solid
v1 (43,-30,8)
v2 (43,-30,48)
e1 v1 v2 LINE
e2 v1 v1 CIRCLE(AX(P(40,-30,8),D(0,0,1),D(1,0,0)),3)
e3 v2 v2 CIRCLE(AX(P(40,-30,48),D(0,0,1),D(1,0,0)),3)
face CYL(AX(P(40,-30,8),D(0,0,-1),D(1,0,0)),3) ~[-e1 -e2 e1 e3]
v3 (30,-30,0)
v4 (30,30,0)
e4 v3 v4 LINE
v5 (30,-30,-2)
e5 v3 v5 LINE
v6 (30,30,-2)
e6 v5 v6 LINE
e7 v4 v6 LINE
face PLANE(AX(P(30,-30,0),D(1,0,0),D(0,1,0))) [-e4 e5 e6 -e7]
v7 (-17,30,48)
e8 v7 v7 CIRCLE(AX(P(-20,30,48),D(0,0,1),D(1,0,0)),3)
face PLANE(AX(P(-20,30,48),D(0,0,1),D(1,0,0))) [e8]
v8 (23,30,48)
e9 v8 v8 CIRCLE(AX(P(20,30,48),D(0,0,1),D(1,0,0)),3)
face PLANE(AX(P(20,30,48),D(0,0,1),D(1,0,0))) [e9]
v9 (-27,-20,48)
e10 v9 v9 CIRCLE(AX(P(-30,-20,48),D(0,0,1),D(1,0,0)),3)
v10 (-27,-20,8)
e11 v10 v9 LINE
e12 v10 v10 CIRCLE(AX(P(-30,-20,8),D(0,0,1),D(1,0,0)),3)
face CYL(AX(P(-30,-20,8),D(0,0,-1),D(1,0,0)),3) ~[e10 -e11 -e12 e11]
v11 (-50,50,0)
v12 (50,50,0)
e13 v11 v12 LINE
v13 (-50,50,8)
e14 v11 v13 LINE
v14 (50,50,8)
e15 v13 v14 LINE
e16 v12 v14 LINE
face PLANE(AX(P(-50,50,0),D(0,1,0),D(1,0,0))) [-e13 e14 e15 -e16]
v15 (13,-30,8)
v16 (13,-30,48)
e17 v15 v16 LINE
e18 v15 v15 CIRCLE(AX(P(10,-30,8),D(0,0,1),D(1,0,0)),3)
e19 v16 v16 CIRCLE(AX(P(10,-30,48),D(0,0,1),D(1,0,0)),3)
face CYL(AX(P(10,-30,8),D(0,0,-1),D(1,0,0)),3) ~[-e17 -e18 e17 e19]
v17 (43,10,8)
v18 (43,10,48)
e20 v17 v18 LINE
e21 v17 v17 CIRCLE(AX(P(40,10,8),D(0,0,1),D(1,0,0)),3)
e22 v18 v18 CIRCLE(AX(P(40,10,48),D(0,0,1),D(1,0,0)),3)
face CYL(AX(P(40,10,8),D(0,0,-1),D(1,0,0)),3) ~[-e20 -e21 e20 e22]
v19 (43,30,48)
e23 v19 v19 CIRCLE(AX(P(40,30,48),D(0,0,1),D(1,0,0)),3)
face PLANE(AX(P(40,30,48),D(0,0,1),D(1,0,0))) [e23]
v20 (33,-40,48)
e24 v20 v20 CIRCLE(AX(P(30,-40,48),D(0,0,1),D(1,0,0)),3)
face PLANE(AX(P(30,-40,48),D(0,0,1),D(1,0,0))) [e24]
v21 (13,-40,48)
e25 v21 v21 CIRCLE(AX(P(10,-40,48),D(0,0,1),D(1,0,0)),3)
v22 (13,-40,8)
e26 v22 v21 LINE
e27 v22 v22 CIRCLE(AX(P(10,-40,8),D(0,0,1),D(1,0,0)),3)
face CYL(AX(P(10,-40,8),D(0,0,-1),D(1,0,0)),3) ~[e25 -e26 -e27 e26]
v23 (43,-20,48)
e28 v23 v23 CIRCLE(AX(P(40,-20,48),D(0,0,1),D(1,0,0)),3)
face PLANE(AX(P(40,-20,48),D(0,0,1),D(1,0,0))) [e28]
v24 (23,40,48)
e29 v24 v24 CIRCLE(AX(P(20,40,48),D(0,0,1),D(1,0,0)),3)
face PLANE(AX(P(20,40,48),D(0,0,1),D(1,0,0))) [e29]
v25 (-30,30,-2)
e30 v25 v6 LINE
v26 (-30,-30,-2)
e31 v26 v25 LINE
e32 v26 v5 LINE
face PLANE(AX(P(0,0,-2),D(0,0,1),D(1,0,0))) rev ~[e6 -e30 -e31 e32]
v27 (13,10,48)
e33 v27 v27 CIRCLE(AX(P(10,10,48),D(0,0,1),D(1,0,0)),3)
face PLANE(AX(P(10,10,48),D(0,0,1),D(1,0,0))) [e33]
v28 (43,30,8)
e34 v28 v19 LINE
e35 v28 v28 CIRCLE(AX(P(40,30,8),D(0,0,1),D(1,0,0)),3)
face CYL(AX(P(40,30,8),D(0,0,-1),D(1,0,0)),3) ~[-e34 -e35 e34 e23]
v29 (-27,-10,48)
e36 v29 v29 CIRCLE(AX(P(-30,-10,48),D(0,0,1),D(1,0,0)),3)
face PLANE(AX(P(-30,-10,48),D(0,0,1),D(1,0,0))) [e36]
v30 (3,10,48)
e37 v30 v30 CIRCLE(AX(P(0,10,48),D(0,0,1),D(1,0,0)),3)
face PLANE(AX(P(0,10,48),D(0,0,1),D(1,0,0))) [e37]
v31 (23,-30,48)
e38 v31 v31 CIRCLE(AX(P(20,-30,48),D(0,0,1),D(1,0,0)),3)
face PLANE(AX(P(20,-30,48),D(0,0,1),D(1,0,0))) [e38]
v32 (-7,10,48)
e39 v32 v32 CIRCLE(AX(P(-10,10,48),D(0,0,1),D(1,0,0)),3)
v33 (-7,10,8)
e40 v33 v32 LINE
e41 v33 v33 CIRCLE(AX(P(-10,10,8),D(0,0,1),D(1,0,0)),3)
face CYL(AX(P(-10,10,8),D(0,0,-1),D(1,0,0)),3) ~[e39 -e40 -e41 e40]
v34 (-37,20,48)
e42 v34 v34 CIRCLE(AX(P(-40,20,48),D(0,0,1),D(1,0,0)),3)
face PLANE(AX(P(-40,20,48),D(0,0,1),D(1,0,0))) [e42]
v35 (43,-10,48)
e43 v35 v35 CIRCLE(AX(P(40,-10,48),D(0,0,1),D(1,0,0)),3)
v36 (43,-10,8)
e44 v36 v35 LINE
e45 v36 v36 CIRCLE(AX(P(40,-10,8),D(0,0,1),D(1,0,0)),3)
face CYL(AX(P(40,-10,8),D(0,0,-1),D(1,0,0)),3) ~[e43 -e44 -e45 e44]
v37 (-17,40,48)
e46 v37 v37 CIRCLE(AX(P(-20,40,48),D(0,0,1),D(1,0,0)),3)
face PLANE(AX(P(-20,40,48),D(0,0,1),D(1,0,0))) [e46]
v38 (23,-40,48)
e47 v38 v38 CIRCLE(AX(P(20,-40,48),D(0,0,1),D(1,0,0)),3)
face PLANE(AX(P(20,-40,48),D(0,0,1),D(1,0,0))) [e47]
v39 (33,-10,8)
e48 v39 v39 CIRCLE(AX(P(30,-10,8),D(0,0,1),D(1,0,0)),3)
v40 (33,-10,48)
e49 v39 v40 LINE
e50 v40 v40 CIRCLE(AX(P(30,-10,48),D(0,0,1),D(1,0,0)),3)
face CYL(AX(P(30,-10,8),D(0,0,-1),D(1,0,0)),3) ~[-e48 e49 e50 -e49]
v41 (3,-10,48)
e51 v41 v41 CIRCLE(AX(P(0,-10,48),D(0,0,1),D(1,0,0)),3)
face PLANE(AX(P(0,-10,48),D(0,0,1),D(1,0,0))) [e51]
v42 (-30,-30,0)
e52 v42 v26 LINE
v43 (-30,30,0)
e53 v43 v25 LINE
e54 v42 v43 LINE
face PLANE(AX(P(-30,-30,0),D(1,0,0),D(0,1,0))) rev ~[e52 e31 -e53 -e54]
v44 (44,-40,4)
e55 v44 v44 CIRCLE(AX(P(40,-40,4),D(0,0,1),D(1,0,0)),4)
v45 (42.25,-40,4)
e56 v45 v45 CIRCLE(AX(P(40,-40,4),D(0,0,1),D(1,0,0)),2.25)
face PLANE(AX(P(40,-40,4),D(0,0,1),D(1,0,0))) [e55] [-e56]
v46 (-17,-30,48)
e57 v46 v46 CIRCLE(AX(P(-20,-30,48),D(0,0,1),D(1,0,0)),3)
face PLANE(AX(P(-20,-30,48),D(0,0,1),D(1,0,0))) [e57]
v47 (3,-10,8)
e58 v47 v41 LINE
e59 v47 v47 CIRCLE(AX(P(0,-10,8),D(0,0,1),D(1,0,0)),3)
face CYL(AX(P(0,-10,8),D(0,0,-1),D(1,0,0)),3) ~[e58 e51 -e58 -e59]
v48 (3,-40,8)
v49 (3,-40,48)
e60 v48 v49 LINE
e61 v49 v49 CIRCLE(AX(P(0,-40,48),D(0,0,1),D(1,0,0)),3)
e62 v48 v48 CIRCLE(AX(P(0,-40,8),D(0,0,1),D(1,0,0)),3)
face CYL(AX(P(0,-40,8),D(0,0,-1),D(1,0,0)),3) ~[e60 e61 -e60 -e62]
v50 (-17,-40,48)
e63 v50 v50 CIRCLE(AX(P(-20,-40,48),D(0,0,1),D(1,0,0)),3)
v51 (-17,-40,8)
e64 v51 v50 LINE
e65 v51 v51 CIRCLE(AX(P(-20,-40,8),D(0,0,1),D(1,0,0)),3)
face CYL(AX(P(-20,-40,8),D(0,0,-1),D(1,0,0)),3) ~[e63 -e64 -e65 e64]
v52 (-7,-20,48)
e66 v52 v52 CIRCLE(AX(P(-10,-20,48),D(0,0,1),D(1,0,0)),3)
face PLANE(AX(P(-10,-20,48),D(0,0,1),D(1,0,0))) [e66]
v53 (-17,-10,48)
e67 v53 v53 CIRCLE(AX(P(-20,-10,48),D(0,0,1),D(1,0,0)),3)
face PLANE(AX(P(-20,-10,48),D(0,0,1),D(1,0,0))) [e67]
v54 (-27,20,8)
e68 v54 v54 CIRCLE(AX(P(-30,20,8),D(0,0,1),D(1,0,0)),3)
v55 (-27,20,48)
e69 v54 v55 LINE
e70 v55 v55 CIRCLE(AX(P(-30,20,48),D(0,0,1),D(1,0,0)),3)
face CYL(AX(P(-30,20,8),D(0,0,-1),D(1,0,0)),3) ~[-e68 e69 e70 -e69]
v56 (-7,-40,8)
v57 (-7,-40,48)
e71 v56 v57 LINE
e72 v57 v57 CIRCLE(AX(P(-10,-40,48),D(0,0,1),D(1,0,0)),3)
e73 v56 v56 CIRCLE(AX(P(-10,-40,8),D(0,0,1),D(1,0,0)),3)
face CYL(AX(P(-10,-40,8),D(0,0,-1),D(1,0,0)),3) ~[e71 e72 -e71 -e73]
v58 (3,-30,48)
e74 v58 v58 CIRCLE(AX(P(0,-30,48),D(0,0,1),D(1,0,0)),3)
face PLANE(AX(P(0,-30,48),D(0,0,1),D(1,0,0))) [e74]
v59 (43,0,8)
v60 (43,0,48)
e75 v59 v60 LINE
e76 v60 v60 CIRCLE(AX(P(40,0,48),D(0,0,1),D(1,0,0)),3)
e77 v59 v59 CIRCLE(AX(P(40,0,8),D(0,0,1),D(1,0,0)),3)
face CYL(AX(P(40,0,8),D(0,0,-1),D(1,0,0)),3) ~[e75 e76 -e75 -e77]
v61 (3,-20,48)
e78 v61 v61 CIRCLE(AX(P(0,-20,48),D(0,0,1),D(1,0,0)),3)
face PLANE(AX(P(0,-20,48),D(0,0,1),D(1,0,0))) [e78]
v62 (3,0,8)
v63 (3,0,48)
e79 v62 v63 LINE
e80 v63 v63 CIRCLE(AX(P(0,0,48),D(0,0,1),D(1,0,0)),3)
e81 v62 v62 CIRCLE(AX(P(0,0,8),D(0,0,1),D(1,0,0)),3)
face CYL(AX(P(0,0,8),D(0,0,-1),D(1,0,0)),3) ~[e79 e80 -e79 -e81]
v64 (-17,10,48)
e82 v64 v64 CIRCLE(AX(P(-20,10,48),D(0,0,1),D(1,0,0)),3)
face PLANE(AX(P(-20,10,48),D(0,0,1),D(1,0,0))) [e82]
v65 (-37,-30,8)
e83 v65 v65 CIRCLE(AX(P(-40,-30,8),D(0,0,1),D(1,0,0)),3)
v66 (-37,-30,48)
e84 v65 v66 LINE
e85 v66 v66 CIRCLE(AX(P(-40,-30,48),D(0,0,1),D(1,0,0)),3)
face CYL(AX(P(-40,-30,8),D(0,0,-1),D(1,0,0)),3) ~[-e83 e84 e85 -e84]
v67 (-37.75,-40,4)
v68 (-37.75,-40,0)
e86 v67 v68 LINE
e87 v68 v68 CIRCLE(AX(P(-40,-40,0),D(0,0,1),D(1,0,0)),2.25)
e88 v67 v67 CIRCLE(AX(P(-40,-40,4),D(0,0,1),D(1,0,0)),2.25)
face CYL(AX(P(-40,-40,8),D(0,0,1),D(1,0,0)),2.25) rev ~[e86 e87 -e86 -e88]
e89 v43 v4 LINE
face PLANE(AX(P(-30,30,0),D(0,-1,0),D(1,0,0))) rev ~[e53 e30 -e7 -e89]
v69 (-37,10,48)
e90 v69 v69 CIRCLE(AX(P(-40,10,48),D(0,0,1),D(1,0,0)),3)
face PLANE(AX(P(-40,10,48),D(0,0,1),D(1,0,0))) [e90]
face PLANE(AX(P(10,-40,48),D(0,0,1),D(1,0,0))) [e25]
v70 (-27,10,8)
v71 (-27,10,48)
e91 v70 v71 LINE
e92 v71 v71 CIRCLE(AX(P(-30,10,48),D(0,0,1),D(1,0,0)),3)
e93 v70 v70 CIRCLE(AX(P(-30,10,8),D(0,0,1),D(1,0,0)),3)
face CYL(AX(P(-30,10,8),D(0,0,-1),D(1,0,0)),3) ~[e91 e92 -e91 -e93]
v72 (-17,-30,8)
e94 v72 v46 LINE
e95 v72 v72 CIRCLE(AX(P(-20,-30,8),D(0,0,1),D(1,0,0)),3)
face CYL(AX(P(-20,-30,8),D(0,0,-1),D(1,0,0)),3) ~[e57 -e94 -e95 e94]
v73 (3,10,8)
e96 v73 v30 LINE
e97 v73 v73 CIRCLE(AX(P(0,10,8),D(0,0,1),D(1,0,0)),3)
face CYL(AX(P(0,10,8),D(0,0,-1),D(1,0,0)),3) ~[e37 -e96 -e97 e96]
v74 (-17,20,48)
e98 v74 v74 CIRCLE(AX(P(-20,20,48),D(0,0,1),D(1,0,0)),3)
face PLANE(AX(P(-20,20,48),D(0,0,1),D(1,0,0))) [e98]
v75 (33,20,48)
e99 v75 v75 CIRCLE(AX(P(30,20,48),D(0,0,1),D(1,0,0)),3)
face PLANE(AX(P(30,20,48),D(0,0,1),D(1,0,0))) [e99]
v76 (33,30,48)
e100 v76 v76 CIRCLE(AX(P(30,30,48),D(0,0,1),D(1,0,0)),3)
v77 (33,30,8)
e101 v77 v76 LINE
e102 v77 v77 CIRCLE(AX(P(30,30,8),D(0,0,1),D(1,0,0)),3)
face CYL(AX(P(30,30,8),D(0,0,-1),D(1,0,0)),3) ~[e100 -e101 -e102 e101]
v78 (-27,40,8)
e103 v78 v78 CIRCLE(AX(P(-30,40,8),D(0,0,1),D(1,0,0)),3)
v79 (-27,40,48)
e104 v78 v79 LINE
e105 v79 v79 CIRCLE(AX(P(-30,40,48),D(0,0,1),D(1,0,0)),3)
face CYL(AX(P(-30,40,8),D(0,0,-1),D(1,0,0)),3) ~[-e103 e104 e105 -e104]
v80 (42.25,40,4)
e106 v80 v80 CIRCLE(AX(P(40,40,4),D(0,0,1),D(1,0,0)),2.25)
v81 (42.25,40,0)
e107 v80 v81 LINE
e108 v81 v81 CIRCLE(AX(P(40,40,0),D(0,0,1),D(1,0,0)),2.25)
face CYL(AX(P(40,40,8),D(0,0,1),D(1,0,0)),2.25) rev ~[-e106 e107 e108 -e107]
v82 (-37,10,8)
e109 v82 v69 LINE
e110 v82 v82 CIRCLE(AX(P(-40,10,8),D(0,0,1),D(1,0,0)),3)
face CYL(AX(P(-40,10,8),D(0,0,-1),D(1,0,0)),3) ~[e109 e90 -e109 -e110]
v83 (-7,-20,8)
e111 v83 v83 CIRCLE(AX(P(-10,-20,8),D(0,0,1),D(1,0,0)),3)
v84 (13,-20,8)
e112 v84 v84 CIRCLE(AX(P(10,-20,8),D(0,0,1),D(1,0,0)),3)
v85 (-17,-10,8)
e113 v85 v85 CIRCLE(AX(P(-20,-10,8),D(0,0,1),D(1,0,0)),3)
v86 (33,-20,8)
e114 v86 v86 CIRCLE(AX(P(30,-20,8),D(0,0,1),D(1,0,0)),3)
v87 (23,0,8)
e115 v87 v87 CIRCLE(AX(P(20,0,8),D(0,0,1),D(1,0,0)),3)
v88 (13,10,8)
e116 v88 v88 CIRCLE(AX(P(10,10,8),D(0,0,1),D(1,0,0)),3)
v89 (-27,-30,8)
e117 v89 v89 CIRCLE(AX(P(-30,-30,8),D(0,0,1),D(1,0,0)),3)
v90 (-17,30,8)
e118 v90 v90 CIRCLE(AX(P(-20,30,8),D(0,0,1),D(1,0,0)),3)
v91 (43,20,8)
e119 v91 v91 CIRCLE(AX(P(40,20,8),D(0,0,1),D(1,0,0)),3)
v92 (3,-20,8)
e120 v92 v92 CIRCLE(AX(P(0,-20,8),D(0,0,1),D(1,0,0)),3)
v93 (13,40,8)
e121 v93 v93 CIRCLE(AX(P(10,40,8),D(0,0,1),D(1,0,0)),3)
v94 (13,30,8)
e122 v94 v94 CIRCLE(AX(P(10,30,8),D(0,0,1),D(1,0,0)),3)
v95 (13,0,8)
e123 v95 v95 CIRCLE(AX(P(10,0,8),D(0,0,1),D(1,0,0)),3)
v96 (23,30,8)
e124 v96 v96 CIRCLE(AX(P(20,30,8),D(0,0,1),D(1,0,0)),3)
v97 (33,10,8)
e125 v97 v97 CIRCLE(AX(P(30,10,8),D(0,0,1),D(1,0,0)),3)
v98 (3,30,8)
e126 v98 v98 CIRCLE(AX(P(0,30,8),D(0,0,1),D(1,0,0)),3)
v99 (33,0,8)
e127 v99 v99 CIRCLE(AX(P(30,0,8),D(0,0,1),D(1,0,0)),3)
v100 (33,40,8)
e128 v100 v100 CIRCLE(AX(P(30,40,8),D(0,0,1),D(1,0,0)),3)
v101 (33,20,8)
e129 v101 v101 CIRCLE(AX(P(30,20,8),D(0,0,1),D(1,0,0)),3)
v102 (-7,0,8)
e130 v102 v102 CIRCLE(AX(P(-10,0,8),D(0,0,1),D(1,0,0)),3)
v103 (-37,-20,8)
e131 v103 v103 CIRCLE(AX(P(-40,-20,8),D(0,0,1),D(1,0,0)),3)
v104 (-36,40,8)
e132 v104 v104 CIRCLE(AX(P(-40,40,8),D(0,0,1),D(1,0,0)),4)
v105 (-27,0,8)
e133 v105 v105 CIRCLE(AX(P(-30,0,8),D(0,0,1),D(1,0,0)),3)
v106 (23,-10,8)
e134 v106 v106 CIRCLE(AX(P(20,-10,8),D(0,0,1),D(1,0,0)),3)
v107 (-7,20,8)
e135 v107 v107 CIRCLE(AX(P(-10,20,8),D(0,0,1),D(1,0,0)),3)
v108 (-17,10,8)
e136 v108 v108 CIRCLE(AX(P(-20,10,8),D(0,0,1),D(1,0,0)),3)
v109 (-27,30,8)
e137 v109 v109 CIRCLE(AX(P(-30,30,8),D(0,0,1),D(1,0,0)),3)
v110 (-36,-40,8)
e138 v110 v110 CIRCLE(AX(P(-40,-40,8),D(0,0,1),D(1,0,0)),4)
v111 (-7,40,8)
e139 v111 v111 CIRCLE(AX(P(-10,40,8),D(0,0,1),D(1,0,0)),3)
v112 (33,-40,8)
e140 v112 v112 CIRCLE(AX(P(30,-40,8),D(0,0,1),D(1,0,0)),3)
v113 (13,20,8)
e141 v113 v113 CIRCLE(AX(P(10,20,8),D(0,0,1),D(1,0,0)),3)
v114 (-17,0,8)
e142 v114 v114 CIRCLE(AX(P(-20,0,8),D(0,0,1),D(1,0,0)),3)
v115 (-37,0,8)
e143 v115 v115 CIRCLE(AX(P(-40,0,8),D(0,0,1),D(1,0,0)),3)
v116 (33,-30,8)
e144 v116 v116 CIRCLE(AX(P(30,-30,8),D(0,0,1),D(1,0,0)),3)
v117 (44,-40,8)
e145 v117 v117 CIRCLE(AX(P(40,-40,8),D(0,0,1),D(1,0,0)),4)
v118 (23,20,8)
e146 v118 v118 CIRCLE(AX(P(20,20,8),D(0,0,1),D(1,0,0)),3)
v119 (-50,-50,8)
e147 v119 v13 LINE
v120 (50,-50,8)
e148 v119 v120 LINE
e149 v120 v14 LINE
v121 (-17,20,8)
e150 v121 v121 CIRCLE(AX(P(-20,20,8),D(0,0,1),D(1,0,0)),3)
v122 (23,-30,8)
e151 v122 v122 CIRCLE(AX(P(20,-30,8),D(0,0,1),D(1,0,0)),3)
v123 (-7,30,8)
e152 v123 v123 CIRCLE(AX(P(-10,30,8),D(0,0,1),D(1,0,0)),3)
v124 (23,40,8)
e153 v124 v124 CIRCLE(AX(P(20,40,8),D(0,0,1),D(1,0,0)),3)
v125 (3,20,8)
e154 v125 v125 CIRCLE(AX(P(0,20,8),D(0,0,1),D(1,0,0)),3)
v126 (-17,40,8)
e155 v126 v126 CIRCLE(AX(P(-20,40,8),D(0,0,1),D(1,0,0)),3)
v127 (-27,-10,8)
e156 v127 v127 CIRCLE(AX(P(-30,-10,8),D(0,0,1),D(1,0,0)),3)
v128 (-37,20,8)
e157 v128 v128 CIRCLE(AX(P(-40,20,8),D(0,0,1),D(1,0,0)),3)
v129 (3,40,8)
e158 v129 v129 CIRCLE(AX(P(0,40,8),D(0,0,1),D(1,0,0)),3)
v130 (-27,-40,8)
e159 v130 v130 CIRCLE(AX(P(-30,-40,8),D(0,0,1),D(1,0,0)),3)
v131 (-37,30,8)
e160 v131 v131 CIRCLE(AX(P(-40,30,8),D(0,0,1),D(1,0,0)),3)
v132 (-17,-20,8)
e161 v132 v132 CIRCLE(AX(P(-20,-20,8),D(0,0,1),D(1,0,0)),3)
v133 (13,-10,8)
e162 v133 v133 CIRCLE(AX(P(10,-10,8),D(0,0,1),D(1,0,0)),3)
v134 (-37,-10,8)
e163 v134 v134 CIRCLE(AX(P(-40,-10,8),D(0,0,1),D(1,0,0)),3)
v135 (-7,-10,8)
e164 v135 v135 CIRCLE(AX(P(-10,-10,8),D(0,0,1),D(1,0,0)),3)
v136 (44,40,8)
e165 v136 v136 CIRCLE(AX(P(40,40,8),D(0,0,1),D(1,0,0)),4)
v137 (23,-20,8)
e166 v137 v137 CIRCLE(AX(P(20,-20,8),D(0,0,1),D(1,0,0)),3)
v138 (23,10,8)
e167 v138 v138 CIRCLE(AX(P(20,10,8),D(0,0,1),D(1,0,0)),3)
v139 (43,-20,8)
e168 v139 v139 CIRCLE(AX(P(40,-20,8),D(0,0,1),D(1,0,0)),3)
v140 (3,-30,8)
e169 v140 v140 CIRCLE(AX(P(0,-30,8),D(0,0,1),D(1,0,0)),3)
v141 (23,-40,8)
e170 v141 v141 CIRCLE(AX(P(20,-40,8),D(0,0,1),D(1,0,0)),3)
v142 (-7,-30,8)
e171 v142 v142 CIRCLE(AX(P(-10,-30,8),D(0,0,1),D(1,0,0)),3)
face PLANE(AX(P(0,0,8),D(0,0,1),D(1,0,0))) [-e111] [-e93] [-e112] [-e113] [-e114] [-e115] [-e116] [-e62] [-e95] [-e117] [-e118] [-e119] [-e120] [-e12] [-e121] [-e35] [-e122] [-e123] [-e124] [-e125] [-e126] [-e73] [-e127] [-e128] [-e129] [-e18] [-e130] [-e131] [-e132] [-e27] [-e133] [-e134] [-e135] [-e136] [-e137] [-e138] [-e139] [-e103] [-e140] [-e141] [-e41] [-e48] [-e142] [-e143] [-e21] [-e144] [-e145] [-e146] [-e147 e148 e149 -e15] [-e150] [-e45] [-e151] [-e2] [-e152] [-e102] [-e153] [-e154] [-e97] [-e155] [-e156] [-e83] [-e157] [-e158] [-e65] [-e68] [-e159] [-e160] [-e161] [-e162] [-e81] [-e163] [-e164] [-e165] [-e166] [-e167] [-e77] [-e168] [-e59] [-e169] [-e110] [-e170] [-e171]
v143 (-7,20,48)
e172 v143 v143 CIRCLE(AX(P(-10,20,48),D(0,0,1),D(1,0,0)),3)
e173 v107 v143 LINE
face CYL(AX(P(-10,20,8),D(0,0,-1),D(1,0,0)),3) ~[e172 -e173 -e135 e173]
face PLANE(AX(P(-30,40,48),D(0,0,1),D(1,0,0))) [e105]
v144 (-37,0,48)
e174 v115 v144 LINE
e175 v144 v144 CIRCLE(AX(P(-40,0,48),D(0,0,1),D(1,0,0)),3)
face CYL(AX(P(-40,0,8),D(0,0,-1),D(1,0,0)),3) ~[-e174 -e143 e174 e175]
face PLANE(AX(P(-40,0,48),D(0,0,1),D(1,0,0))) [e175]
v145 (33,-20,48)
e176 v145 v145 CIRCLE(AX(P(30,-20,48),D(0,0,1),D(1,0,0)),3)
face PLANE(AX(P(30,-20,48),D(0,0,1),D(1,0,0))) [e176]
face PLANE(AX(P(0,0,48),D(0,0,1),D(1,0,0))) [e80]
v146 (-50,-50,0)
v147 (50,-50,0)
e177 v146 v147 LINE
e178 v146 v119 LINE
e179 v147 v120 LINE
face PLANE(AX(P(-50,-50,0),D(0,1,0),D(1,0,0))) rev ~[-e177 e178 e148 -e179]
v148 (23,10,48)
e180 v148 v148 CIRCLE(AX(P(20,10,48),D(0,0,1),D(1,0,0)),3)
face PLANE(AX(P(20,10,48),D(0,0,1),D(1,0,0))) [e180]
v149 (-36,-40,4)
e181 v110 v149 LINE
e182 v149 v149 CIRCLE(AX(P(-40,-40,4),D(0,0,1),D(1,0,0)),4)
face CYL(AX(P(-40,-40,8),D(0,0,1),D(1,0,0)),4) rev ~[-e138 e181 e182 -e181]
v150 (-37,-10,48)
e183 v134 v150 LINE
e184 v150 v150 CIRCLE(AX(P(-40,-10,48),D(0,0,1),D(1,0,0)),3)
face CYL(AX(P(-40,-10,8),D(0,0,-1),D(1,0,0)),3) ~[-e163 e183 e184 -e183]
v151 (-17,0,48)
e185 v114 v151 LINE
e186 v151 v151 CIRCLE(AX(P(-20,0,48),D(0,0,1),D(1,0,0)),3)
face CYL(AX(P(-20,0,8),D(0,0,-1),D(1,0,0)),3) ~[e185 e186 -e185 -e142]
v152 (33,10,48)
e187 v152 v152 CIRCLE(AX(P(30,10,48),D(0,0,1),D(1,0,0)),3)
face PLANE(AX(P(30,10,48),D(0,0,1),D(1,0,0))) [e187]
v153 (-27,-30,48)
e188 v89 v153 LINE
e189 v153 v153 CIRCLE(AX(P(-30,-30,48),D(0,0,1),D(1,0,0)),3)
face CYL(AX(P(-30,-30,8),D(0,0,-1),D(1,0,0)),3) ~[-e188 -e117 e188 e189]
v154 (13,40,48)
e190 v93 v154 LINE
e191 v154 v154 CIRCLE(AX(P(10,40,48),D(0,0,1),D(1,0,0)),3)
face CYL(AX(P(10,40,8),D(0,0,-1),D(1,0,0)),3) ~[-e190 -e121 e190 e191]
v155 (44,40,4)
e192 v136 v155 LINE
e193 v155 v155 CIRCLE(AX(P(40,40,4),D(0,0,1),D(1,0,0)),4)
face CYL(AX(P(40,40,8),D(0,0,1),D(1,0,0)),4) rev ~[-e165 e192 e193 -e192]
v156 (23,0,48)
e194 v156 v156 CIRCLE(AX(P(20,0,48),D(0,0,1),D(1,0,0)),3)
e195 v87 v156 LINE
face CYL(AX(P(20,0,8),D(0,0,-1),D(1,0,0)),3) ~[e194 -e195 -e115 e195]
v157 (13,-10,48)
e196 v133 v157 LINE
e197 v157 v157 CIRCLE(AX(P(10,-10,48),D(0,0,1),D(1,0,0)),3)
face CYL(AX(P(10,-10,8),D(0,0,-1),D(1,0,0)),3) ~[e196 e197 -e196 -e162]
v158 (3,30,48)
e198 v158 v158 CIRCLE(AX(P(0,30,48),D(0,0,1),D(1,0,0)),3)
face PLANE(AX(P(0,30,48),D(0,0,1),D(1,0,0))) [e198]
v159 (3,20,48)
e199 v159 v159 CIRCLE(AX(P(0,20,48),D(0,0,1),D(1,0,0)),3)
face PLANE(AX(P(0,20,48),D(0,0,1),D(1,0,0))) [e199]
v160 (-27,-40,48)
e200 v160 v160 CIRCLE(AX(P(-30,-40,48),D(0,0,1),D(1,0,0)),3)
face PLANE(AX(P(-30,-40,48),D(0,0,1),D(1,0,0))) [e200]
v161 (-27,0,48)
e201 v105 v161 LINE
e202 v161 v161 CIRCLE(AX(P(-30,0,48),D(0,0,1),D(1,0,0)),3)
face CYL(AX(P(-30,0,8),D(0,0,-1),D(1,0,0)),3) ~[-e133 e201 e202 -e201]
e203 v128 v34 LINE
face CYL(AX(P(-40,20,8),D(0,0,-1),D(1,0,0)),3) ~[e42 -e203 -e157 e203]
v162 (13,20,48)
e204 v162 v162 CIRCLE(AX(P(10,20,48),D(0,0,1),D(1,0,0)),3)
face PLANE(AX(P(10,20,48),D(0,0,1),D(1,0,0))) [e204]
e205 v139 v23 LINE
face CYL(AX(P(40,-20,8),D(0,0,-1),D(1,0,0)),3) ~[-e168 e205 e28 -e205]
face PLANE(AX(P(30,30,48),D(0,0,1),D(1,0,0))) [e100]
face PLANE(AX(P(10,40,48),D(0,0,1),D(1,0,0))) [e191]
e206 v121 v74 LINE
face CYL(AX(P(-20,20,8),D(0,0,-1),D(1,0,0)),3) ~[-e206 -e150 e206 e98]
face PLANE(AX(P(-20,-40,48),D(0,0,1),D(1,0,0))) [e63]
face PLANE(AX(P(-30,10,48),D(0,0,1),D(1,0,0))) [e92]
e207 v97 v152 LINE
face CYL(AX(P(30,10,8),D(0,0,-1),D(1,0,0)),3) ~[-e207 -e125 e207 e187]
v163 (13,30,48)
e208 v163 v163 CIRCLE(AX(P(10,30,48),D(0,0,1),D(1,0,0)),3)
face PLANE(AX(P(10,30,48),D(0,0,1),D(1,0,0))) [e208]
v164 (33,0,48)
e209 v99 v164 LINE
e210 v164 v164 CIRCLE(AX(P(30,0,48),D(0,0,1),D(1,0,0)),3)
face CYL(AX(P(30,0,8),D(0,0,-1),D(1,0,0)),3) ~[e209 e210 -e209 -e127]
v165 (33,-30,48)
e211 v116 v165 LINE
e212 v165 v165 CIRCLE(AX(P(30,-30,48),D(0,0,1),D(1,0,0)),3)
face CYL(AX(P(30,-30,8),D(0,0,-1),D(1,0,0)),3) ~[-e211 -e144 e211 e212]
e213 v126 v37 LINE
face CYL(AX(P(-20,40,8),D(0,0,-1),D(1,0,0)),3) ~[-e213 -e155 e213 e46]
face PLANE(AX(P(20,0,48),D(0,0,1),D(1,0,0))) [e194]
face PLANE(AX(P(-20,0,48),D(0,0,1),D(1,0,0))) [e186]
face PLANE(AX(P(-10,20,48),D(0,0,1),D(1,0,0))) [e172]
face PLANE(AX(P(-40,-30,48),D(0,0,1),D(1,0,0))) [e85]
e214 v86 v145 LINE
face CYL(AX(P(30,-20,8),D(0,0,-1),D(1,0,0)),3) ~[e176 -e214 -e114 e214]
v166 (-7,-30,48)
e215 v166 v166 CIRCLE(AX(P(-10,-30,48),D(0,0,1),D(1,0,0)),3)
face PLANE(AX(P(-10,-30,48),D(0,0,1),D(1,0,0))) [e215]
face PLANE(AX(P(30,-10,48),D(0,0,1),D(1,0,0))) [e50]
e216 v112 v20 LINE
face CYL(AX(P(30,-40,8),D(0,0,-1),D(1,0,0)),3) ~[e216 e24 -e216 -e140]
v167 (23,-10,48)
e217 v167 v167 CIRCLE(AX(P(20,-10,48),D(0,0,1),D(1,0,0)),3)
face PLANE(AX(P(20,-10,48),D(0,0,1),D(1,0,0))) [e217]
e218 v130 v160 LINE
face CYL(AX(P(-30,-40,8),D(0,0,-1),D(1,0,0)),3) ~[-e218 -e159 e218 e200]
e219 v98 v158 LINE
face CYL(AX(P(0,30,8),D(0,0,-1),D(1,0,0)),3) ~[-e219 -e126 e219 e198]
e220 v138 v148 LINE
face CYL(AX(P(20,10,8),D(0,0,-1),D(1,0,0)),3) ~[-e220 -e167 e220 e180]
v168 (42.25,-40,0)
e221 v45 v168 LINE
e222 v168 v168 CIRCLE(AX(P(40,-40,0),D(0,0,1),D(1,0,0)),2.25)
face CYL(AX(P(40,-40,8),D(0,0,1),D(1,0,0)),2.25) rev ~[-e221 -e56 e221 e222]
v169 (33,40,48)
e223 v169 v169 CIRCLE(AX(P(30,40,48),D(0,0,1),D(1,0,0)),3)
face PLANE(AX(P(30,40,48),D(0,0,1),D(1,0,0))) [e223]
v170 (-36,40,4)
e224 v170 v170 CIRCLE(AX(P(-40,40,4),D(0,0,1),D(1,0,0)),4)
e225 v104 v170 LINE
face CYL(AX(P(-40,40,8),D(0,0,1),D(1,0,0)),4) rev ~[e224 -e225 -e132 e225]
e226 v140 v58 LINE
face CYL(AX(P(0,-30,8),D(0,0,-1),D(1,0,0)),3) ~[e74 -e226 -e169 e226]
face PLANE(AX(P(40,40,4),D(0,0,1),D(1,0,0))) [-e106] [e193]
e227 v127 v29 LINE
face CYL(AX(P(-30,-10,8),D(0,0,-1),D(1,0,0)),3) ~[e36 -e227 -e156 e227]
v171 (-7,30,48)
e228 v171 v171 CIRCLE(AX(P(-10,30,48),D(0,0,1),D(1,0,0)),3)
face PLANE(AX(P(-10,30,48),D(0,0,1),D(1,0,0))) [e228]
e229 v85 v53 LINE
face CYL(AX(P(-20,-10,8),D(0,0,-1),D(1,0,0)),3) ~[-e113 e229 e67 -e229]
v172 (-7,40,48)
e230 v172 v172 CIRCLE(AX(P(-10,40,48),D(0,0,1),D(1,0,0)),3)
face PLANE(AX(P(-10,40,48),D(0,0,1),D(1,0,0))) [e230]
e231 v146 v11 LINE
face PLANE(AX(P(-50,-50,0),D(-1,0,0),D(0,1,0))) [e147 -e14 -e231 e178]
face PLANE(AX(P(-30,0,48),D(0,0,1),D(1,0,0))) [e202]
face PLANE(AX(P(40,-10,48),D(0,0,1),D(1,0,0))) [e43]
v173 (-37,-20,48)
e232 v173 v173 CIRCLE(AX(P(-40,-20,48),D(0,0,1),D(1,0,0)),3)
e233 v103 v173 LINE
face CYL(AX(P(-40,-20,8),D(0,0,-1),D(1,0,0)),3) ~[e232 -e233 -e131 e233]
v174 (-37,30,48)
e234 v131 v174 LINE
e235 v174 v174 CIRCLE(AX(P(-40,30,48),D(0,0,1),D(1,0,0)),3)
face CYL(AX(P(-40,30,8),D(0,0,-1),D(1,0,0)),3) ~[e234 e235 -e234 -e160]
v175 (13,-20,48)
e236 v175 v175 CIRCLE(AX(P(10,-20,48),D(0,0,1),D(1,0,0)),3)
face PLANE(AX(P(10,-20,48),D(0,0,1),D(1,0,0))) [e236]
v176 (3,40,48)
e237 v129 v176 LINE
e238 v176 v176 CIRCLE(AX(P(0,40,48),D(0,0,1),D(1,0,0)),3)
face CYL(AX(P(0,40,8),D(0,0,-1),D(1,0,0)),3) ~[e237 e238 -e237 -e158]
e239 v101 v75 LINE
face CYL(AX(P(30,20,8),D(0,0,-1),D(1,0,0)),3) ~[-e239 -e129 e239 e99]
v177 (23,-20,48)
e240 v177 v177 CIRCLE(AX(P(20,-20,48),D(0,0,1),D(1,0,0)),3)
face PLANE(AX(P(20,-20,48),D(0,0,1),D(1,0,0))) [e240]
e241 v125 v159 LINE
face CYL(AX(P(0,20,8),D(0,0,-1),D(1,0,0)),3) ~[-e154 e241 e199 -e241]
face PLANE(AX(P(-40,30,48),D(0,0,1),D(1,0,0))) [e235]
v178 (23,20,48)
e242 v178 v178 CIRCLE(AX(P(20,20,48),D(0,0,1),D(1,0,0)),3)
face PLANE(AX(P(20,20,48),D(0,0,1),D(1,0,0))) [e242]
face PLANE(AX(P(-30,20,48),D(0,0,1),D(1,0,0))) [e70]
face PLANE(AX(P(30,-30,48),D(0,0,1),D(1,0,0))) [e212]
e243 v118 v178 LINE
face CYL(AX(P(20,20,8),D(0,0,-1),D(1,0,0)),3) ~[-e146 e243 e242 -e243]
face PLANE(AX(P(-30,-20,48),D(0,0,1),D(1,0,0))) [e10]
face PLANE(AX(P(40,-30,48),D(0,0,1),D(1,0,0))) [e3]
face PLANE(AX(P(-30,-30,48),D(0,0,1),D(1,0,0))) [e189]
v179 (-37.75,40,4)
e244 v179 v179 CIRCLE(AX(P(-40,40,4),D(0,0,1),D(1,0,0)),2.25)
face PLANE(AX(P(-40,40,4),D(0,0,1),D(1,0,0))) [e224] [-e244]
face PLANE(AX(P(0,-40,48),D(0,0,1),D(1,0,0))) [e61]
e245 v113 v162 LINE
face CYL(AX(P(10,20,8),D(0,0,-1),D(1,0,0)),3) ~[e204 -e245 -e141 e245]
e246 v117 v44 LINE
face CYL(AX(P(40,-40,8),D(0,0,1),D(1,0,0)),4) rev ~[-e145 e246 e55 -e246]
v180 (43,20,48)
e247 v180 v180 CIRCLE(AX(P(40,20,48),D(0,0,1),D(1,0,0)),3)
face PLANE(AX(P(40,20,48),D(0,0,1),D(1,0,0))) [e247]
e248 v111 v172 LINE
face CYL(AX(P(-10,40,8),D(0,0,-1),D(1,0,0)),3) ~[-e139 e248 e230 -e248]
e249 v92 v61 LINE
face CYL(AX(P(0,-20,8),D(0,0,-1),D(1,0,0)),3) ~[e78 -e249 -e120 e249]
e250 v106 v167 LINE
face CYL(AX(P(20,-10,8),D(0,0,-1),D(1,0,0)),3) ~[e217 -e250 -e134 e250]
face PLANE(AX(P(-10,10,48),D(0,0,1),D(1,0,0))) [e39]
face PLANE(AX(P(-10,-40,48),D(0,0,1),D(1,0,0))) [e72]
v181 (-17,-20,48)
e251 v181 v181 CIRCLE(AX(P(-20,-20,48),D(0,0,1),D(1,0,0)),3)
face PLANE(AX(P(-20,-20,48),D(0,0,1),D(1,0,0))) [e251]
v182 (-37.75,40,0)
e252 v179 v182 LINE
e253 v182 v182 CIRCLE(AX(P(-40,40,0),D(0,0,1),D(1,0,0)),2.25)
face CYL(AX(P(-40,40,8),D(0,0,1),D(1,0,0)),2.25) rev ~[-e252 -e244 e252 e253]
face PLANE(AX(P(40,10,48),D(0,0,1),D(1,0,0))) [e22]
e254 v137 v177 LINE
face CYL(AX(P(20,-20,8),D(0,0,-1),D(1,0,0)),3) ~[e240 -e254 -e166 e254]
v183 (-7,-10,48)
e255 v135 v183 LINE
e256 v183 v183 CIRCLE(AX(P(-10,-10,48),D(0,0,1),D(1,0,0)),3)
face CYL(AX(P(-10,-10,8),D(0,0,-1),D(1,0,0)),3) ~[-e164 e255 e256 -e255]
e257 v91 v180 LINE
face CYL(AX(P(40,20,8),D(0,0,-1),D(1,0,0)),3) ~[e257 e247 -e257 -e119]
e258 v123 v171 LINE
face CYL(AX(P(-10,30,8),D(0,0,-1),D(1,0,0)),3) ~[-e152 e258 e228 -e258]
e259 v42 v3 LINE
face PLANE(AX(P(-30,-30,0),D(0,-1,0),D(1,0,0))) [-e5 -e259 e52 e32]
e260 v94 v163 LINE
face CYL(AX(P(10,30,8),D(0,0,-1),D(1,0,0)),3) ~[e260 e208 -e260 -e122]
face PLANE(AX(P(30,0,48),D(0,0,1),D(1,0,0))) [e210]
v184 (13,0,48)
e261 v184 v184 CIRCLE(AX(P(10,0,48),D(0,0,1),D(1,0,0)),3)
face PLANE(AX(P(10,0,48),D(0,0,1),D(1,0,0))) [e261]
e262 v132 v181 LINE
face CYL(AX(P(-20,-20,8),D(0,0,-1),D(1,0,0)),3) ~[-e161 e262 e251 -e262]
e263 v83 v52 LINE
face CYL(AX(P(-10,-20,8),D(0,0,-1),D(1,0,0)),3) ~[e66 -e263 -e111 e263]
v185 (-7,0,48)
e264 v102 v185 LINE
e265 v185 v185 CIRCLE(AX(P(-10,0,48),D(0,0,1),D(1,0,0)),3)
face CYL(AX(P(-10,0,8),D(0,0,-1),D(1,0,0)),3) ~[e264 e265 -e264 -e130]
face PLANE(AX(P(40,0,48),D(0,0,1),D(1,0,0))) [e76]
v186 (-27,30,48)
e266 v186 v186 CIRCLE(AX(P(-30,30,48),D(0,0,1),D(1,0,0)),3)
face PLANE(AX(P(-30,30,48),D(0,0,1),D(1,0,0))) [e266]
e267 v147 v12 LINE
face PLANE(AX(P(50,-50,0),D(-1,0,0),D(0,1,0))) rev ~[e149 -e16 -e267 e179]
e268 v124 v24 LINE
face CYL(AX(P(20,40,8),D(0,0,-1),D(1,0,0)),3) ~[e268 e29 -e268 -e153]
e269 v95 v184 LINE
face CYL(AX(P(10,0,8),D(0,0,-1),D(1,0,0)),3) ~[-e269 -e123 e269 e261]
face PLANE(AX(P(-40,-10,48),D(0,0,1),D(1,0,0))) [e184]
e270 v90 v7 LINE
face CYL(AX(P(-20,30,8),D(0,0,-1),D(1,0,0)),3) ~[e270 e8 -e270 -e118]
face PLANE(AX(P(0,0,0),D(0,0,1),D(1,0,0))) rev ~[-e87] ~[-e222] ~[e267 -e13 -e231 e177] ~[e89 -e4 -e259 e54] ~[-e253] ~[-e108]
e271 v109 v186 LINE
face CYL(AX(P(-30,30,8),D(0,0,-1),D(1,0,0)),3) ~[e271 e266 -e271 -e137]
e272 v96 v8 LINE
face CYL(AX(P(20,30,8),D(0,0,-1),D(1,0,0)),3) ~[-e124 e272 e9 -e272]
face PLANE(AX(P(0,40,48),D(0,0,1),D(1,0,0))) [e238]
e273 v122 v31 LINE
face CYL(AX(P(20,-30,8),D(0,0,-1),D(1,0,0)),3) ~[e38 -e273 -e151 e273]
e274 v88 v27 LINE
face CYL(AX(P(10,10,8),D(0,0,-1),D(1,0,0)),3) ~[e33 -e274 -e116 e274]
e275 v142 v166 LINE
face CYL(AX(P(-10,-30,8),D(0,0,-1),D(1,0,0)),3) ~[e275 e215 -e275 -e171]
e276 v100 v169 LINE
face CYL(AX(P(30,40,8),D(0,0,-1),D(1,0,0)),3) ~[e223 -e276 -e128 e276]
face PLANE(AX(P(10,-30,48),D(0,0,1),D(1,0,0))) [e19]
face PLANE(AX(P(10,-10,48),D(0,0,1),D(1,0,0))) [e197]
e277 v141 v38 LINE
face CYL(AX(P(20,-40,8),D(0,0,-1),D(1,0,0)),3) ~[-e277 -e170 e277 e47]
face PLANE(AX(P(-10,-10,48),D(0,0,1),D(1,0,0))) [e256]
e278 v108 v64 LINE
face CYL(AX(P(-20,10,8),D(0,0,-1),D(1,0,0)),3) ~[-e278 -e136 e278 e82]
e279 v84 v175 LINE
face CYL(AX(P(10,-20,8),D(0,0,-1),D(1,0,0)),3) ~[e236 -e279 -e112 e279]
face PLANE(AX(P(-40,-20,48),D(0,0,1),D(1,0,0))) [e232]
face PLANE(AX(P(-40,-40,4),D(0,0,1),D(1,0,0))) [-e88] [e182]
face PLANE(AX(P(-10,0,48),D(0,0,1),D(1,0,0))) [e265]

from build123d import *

# Parameters (mm, degrees)
SKETCH_1_W          = 100
SKETCH_1_H          = 100
EXTRUDE_1_DEPTH     = 8
SKETCH_2_W          = 60
SKETCH_2_H          = 60
EXTRUDE_2_DEPTH     = 2
SKETCH_3_R          = 3
EXTRUDE_3_DEPTH     = 40
SKETCH_4_R          = 4
CUT_EXTRUDE_1_DEPTH = 4
SKETCH_5_R          = 2.25
CUT_EXTRUDE_2_DEPTH = 82.240384046


with BuildPart() as part:
    # 草图1 → 凸台-拉伸1 (new body)
    with BuildSketch(Plane.XY):
        Rectangle(SKETCH_1_W, SKETCH_1_H)
    extrude(amount=EXTRUDE_1_DEPTH)

    # 草图2 → 凸台-拉伸2 (add)
    with BuildSketch(Plane.XY):
        Rectangle(SKETCH_2_W, SKETCH_2_H)
    extrude(amount=-EXTRUDE_2_DEPTH)

    # 草图3 → 凸台-拉伸3 (add)
    with BuildSketch(Plane.XY.offset(8)):
        with Locations((-40, -30)):
            Circle(SKETCH_3_R)
        with Locations((-40, -20)):
            Circle(SKETCH_3_R)
        with Locations((-40, -10)):
            Circle(SKETCH_3_R)
        with Locations((-40, 0)):
            Circle(SKETCH_3_R)
        with Locations((-40, 10)):
            Circle(SKETCH_3_R)
        with Locations((-40, 20)):
            Circle(SKETCH_3_R)
        with Locations((-40, 30)):
            Circle(SKETCH_3_R)
        with Locations((-30, -40)):
            Circle(SKETCH_3_R)
        with Locations((-30, -30)):
            Circle(SKETCH_3_R)
        with Locations((-30, -20)):
            Circle(SKETCH_3_R)
        with Locations((-30, -10)):
            Circle(SKETCH_3_R)
        with Locations((-30, 0)):
            Circle(SKETCH_3_R)
        with Locations((-30, 10)):
            Circle(SKETCH_3_R)
        with Locations((-30, 20)):
            Circle(SKETCH_3_R)
        with Locations((-30, 30)):
            Circle(SKETCH_3_R)
        with Locations((-30, 40)):
            Circle(SKETCH_3_R)
        with Locations((-20, -40)):
            Circle(SKETCH_3_R)
        with Locations((-20, -30)):
            Circle(SKETCH_3_R)
        with Locations((-20, -20)):
            Circle(SKETCH_3_R)
        with Locations((-20, -10)):
            Circle(SKETCH_3_R)
        with Locations((-20, 0)):
            Circle(SKETCH_3_R)
        with Locations((-20, 10)):
            Circle(SKETCH_3_R)
        with Locations((-20, 20)):
            Circle(SKETCH_3_R)
        with Locations((-20, 30)):
            Circle(SKETCH_3_R)
        with Locations((-20, 40)):
            Circle(SKETCH_3_R)
        with Locations((-10, -40)):
            Circle(SKETCH_3_R)
        with Locations((-10, -30)):
            Circle(SKETCH_3_R)
        with Locations((-10, -20)):
            Circle(SKETCH_3_R)
        with Locations((-10, -10)):
            Circle(SKETCH_3_R)
        with Locations((-10, 0)):
            Circle(SKETCH_3_R)
        with Locations((-10, 10)):
            Circle(SKETCH_3_R)
        with Locations((-10, 20)):
            Circle(SKETCH_3_R)
        with Locations((-10, 30)):
            Circle(SKETCH_3_R)
        with Locations((-10, 40)):
            Circle(SKETCH_3_R)
        with Locations((0, -40)):
            Circle(SKETCH_3_R)
        with Locations((0, -30)):
            Circle(SKETCH_3_R)
        with Locations((0, -20)):
            Circle(SKETCH_3_R)
        with Locations((0, -10)):
            Circle(SKETCH_3_R)
        Circle(SKETCH_3_R)
        with Locations((0, 10)):
            Circle(SKETCH_3_R)
        with Locations((0, 20)):
            Circle(SKETCH_3_R)
        with Locations((0, 30)):
            Circle(SKETCH_3_R)
        with Locations((0, 40)):
            Circle(SKETCH_3_R)
        with Locations((10, -40)):
            Circle(SKETCH_3_R)
        with Locations((10, -30)):
            Circle(SKETCH_3_R)
        with Locations((10, -20)):
            Circle(SKETCH_3_R)
        with Locations((10, -10)):
            Circle(SKETCH_3_R)
        with Locations((10, 0)):
            Circle(SKETCH_3_R)
        with Locations((10, 10)):
            Circle(SKETCH_3_R)
        with Locations((10, 20)):
            Circle(SKETCH_3_R)
        with Locations((10, 30)):
            Circle(SKETCH_3_R)
        with Locations((10, 40)):
            Circle(SKETCH_3_R)
        with Locations((20, -40)):
            Circle(SKETCH_3_R)
        with Locations((20, -30)):
            Circle(SKETCH_3_R)
        with Locations((20, -20)):
            Circle(SKETCH_3_R)
        with Locations((20, -10)):
            Circle(SKETCH_3_R)
        with Locations((20, 0)):
            Circle(SKETCH_3_R)
        with Locations((20, 10)):
            Circle(SKETCH_3_R)
        with Locations((20, 20)):
            Circle(SKETCH_3_R)
        with Locations((20, 30)):
            Circle(SKETCH_3_R)
        with Locations((20, 40)):
            Circle(SKETCH_3_R)
        with Locations((30, -40)):
            Circle(SKETCH_3_R)
        with Locations((30, -30)):
            Circle(SKETCH_3_R)
        with Locations((30, -20)):
            Circle(SKETCH_3_R)
        with Locations((30, -10)):
            Circle(SKETCH_3_R)
        with Locations((30, 0)):
            Circle(SKETCH_3_R)
        with Locations((30, 10)):
            Circle(SKETCH_3_R)
        with Locations((30, 20)):
            Circle(SKETCH_3_R)
        with Locations((30, 30)):
            Circle(SKETCH_3_R)
        with Locations((30, 40)):
            Circle(SKETCH_3_R)
        with Locations((40, -30)):
            Circle(SKETCH_3_R)
        with Locations((40, -20)):
            Circle(SKETCH_3_R)
        with Locations((40, -10)):
            Circle(SKETCH_3_R)
        with Locations((40, 0)):
            Circle(SKETCH_3_R)
        with Locations((40, 10)):
            Circle(SKETCH_3_R)
        with Locations((40, 20)):
            Circle(SKETCH_3_R)
        with Locations((40, 30)):
            Circle(SKETCH_3_R)
    extrude(amount=EXTRUDE_3_DEPTH)

    # 草图4 → 切除-拉伸1 (cut)
    with BuildSketch(Plane.XY.offset(8)):
        with Locations((-40, -40)):
            Circle(SKETCH_4_R)
        with Locations((-40, 40)):
            Circle(SKETCH_4_R)
        with Locations((40, -40)):
            Circle(SKETCH_4_R)
        with Locations((40, 40)):
            Circle(SKETCH_4_R)
    extrude(amount=-CUT_EXTRUDE_1_DEPTH, mode=Mode.SUBTRACT)

    # 草图5 → 切除-拉伸2 (cut, through all)
    with BuildSketch(Plane.XY.offset(8)):
        with Locations((-40, -40)):
            Circle(SKETCH_5_R)
        with Locations((-40, 40)):
            Circle(SKETCH_5_R)
        with Locations((40, -40)):
            Circle(SKETCH_5_R)
        with Locations((40, 40)):
            Circle(SKETCH_5_R)
    extrude(amount=-CUT_EXTRUDE_2_DEPTH, mode=Mode.SUBTRACT)


solid = part.part
